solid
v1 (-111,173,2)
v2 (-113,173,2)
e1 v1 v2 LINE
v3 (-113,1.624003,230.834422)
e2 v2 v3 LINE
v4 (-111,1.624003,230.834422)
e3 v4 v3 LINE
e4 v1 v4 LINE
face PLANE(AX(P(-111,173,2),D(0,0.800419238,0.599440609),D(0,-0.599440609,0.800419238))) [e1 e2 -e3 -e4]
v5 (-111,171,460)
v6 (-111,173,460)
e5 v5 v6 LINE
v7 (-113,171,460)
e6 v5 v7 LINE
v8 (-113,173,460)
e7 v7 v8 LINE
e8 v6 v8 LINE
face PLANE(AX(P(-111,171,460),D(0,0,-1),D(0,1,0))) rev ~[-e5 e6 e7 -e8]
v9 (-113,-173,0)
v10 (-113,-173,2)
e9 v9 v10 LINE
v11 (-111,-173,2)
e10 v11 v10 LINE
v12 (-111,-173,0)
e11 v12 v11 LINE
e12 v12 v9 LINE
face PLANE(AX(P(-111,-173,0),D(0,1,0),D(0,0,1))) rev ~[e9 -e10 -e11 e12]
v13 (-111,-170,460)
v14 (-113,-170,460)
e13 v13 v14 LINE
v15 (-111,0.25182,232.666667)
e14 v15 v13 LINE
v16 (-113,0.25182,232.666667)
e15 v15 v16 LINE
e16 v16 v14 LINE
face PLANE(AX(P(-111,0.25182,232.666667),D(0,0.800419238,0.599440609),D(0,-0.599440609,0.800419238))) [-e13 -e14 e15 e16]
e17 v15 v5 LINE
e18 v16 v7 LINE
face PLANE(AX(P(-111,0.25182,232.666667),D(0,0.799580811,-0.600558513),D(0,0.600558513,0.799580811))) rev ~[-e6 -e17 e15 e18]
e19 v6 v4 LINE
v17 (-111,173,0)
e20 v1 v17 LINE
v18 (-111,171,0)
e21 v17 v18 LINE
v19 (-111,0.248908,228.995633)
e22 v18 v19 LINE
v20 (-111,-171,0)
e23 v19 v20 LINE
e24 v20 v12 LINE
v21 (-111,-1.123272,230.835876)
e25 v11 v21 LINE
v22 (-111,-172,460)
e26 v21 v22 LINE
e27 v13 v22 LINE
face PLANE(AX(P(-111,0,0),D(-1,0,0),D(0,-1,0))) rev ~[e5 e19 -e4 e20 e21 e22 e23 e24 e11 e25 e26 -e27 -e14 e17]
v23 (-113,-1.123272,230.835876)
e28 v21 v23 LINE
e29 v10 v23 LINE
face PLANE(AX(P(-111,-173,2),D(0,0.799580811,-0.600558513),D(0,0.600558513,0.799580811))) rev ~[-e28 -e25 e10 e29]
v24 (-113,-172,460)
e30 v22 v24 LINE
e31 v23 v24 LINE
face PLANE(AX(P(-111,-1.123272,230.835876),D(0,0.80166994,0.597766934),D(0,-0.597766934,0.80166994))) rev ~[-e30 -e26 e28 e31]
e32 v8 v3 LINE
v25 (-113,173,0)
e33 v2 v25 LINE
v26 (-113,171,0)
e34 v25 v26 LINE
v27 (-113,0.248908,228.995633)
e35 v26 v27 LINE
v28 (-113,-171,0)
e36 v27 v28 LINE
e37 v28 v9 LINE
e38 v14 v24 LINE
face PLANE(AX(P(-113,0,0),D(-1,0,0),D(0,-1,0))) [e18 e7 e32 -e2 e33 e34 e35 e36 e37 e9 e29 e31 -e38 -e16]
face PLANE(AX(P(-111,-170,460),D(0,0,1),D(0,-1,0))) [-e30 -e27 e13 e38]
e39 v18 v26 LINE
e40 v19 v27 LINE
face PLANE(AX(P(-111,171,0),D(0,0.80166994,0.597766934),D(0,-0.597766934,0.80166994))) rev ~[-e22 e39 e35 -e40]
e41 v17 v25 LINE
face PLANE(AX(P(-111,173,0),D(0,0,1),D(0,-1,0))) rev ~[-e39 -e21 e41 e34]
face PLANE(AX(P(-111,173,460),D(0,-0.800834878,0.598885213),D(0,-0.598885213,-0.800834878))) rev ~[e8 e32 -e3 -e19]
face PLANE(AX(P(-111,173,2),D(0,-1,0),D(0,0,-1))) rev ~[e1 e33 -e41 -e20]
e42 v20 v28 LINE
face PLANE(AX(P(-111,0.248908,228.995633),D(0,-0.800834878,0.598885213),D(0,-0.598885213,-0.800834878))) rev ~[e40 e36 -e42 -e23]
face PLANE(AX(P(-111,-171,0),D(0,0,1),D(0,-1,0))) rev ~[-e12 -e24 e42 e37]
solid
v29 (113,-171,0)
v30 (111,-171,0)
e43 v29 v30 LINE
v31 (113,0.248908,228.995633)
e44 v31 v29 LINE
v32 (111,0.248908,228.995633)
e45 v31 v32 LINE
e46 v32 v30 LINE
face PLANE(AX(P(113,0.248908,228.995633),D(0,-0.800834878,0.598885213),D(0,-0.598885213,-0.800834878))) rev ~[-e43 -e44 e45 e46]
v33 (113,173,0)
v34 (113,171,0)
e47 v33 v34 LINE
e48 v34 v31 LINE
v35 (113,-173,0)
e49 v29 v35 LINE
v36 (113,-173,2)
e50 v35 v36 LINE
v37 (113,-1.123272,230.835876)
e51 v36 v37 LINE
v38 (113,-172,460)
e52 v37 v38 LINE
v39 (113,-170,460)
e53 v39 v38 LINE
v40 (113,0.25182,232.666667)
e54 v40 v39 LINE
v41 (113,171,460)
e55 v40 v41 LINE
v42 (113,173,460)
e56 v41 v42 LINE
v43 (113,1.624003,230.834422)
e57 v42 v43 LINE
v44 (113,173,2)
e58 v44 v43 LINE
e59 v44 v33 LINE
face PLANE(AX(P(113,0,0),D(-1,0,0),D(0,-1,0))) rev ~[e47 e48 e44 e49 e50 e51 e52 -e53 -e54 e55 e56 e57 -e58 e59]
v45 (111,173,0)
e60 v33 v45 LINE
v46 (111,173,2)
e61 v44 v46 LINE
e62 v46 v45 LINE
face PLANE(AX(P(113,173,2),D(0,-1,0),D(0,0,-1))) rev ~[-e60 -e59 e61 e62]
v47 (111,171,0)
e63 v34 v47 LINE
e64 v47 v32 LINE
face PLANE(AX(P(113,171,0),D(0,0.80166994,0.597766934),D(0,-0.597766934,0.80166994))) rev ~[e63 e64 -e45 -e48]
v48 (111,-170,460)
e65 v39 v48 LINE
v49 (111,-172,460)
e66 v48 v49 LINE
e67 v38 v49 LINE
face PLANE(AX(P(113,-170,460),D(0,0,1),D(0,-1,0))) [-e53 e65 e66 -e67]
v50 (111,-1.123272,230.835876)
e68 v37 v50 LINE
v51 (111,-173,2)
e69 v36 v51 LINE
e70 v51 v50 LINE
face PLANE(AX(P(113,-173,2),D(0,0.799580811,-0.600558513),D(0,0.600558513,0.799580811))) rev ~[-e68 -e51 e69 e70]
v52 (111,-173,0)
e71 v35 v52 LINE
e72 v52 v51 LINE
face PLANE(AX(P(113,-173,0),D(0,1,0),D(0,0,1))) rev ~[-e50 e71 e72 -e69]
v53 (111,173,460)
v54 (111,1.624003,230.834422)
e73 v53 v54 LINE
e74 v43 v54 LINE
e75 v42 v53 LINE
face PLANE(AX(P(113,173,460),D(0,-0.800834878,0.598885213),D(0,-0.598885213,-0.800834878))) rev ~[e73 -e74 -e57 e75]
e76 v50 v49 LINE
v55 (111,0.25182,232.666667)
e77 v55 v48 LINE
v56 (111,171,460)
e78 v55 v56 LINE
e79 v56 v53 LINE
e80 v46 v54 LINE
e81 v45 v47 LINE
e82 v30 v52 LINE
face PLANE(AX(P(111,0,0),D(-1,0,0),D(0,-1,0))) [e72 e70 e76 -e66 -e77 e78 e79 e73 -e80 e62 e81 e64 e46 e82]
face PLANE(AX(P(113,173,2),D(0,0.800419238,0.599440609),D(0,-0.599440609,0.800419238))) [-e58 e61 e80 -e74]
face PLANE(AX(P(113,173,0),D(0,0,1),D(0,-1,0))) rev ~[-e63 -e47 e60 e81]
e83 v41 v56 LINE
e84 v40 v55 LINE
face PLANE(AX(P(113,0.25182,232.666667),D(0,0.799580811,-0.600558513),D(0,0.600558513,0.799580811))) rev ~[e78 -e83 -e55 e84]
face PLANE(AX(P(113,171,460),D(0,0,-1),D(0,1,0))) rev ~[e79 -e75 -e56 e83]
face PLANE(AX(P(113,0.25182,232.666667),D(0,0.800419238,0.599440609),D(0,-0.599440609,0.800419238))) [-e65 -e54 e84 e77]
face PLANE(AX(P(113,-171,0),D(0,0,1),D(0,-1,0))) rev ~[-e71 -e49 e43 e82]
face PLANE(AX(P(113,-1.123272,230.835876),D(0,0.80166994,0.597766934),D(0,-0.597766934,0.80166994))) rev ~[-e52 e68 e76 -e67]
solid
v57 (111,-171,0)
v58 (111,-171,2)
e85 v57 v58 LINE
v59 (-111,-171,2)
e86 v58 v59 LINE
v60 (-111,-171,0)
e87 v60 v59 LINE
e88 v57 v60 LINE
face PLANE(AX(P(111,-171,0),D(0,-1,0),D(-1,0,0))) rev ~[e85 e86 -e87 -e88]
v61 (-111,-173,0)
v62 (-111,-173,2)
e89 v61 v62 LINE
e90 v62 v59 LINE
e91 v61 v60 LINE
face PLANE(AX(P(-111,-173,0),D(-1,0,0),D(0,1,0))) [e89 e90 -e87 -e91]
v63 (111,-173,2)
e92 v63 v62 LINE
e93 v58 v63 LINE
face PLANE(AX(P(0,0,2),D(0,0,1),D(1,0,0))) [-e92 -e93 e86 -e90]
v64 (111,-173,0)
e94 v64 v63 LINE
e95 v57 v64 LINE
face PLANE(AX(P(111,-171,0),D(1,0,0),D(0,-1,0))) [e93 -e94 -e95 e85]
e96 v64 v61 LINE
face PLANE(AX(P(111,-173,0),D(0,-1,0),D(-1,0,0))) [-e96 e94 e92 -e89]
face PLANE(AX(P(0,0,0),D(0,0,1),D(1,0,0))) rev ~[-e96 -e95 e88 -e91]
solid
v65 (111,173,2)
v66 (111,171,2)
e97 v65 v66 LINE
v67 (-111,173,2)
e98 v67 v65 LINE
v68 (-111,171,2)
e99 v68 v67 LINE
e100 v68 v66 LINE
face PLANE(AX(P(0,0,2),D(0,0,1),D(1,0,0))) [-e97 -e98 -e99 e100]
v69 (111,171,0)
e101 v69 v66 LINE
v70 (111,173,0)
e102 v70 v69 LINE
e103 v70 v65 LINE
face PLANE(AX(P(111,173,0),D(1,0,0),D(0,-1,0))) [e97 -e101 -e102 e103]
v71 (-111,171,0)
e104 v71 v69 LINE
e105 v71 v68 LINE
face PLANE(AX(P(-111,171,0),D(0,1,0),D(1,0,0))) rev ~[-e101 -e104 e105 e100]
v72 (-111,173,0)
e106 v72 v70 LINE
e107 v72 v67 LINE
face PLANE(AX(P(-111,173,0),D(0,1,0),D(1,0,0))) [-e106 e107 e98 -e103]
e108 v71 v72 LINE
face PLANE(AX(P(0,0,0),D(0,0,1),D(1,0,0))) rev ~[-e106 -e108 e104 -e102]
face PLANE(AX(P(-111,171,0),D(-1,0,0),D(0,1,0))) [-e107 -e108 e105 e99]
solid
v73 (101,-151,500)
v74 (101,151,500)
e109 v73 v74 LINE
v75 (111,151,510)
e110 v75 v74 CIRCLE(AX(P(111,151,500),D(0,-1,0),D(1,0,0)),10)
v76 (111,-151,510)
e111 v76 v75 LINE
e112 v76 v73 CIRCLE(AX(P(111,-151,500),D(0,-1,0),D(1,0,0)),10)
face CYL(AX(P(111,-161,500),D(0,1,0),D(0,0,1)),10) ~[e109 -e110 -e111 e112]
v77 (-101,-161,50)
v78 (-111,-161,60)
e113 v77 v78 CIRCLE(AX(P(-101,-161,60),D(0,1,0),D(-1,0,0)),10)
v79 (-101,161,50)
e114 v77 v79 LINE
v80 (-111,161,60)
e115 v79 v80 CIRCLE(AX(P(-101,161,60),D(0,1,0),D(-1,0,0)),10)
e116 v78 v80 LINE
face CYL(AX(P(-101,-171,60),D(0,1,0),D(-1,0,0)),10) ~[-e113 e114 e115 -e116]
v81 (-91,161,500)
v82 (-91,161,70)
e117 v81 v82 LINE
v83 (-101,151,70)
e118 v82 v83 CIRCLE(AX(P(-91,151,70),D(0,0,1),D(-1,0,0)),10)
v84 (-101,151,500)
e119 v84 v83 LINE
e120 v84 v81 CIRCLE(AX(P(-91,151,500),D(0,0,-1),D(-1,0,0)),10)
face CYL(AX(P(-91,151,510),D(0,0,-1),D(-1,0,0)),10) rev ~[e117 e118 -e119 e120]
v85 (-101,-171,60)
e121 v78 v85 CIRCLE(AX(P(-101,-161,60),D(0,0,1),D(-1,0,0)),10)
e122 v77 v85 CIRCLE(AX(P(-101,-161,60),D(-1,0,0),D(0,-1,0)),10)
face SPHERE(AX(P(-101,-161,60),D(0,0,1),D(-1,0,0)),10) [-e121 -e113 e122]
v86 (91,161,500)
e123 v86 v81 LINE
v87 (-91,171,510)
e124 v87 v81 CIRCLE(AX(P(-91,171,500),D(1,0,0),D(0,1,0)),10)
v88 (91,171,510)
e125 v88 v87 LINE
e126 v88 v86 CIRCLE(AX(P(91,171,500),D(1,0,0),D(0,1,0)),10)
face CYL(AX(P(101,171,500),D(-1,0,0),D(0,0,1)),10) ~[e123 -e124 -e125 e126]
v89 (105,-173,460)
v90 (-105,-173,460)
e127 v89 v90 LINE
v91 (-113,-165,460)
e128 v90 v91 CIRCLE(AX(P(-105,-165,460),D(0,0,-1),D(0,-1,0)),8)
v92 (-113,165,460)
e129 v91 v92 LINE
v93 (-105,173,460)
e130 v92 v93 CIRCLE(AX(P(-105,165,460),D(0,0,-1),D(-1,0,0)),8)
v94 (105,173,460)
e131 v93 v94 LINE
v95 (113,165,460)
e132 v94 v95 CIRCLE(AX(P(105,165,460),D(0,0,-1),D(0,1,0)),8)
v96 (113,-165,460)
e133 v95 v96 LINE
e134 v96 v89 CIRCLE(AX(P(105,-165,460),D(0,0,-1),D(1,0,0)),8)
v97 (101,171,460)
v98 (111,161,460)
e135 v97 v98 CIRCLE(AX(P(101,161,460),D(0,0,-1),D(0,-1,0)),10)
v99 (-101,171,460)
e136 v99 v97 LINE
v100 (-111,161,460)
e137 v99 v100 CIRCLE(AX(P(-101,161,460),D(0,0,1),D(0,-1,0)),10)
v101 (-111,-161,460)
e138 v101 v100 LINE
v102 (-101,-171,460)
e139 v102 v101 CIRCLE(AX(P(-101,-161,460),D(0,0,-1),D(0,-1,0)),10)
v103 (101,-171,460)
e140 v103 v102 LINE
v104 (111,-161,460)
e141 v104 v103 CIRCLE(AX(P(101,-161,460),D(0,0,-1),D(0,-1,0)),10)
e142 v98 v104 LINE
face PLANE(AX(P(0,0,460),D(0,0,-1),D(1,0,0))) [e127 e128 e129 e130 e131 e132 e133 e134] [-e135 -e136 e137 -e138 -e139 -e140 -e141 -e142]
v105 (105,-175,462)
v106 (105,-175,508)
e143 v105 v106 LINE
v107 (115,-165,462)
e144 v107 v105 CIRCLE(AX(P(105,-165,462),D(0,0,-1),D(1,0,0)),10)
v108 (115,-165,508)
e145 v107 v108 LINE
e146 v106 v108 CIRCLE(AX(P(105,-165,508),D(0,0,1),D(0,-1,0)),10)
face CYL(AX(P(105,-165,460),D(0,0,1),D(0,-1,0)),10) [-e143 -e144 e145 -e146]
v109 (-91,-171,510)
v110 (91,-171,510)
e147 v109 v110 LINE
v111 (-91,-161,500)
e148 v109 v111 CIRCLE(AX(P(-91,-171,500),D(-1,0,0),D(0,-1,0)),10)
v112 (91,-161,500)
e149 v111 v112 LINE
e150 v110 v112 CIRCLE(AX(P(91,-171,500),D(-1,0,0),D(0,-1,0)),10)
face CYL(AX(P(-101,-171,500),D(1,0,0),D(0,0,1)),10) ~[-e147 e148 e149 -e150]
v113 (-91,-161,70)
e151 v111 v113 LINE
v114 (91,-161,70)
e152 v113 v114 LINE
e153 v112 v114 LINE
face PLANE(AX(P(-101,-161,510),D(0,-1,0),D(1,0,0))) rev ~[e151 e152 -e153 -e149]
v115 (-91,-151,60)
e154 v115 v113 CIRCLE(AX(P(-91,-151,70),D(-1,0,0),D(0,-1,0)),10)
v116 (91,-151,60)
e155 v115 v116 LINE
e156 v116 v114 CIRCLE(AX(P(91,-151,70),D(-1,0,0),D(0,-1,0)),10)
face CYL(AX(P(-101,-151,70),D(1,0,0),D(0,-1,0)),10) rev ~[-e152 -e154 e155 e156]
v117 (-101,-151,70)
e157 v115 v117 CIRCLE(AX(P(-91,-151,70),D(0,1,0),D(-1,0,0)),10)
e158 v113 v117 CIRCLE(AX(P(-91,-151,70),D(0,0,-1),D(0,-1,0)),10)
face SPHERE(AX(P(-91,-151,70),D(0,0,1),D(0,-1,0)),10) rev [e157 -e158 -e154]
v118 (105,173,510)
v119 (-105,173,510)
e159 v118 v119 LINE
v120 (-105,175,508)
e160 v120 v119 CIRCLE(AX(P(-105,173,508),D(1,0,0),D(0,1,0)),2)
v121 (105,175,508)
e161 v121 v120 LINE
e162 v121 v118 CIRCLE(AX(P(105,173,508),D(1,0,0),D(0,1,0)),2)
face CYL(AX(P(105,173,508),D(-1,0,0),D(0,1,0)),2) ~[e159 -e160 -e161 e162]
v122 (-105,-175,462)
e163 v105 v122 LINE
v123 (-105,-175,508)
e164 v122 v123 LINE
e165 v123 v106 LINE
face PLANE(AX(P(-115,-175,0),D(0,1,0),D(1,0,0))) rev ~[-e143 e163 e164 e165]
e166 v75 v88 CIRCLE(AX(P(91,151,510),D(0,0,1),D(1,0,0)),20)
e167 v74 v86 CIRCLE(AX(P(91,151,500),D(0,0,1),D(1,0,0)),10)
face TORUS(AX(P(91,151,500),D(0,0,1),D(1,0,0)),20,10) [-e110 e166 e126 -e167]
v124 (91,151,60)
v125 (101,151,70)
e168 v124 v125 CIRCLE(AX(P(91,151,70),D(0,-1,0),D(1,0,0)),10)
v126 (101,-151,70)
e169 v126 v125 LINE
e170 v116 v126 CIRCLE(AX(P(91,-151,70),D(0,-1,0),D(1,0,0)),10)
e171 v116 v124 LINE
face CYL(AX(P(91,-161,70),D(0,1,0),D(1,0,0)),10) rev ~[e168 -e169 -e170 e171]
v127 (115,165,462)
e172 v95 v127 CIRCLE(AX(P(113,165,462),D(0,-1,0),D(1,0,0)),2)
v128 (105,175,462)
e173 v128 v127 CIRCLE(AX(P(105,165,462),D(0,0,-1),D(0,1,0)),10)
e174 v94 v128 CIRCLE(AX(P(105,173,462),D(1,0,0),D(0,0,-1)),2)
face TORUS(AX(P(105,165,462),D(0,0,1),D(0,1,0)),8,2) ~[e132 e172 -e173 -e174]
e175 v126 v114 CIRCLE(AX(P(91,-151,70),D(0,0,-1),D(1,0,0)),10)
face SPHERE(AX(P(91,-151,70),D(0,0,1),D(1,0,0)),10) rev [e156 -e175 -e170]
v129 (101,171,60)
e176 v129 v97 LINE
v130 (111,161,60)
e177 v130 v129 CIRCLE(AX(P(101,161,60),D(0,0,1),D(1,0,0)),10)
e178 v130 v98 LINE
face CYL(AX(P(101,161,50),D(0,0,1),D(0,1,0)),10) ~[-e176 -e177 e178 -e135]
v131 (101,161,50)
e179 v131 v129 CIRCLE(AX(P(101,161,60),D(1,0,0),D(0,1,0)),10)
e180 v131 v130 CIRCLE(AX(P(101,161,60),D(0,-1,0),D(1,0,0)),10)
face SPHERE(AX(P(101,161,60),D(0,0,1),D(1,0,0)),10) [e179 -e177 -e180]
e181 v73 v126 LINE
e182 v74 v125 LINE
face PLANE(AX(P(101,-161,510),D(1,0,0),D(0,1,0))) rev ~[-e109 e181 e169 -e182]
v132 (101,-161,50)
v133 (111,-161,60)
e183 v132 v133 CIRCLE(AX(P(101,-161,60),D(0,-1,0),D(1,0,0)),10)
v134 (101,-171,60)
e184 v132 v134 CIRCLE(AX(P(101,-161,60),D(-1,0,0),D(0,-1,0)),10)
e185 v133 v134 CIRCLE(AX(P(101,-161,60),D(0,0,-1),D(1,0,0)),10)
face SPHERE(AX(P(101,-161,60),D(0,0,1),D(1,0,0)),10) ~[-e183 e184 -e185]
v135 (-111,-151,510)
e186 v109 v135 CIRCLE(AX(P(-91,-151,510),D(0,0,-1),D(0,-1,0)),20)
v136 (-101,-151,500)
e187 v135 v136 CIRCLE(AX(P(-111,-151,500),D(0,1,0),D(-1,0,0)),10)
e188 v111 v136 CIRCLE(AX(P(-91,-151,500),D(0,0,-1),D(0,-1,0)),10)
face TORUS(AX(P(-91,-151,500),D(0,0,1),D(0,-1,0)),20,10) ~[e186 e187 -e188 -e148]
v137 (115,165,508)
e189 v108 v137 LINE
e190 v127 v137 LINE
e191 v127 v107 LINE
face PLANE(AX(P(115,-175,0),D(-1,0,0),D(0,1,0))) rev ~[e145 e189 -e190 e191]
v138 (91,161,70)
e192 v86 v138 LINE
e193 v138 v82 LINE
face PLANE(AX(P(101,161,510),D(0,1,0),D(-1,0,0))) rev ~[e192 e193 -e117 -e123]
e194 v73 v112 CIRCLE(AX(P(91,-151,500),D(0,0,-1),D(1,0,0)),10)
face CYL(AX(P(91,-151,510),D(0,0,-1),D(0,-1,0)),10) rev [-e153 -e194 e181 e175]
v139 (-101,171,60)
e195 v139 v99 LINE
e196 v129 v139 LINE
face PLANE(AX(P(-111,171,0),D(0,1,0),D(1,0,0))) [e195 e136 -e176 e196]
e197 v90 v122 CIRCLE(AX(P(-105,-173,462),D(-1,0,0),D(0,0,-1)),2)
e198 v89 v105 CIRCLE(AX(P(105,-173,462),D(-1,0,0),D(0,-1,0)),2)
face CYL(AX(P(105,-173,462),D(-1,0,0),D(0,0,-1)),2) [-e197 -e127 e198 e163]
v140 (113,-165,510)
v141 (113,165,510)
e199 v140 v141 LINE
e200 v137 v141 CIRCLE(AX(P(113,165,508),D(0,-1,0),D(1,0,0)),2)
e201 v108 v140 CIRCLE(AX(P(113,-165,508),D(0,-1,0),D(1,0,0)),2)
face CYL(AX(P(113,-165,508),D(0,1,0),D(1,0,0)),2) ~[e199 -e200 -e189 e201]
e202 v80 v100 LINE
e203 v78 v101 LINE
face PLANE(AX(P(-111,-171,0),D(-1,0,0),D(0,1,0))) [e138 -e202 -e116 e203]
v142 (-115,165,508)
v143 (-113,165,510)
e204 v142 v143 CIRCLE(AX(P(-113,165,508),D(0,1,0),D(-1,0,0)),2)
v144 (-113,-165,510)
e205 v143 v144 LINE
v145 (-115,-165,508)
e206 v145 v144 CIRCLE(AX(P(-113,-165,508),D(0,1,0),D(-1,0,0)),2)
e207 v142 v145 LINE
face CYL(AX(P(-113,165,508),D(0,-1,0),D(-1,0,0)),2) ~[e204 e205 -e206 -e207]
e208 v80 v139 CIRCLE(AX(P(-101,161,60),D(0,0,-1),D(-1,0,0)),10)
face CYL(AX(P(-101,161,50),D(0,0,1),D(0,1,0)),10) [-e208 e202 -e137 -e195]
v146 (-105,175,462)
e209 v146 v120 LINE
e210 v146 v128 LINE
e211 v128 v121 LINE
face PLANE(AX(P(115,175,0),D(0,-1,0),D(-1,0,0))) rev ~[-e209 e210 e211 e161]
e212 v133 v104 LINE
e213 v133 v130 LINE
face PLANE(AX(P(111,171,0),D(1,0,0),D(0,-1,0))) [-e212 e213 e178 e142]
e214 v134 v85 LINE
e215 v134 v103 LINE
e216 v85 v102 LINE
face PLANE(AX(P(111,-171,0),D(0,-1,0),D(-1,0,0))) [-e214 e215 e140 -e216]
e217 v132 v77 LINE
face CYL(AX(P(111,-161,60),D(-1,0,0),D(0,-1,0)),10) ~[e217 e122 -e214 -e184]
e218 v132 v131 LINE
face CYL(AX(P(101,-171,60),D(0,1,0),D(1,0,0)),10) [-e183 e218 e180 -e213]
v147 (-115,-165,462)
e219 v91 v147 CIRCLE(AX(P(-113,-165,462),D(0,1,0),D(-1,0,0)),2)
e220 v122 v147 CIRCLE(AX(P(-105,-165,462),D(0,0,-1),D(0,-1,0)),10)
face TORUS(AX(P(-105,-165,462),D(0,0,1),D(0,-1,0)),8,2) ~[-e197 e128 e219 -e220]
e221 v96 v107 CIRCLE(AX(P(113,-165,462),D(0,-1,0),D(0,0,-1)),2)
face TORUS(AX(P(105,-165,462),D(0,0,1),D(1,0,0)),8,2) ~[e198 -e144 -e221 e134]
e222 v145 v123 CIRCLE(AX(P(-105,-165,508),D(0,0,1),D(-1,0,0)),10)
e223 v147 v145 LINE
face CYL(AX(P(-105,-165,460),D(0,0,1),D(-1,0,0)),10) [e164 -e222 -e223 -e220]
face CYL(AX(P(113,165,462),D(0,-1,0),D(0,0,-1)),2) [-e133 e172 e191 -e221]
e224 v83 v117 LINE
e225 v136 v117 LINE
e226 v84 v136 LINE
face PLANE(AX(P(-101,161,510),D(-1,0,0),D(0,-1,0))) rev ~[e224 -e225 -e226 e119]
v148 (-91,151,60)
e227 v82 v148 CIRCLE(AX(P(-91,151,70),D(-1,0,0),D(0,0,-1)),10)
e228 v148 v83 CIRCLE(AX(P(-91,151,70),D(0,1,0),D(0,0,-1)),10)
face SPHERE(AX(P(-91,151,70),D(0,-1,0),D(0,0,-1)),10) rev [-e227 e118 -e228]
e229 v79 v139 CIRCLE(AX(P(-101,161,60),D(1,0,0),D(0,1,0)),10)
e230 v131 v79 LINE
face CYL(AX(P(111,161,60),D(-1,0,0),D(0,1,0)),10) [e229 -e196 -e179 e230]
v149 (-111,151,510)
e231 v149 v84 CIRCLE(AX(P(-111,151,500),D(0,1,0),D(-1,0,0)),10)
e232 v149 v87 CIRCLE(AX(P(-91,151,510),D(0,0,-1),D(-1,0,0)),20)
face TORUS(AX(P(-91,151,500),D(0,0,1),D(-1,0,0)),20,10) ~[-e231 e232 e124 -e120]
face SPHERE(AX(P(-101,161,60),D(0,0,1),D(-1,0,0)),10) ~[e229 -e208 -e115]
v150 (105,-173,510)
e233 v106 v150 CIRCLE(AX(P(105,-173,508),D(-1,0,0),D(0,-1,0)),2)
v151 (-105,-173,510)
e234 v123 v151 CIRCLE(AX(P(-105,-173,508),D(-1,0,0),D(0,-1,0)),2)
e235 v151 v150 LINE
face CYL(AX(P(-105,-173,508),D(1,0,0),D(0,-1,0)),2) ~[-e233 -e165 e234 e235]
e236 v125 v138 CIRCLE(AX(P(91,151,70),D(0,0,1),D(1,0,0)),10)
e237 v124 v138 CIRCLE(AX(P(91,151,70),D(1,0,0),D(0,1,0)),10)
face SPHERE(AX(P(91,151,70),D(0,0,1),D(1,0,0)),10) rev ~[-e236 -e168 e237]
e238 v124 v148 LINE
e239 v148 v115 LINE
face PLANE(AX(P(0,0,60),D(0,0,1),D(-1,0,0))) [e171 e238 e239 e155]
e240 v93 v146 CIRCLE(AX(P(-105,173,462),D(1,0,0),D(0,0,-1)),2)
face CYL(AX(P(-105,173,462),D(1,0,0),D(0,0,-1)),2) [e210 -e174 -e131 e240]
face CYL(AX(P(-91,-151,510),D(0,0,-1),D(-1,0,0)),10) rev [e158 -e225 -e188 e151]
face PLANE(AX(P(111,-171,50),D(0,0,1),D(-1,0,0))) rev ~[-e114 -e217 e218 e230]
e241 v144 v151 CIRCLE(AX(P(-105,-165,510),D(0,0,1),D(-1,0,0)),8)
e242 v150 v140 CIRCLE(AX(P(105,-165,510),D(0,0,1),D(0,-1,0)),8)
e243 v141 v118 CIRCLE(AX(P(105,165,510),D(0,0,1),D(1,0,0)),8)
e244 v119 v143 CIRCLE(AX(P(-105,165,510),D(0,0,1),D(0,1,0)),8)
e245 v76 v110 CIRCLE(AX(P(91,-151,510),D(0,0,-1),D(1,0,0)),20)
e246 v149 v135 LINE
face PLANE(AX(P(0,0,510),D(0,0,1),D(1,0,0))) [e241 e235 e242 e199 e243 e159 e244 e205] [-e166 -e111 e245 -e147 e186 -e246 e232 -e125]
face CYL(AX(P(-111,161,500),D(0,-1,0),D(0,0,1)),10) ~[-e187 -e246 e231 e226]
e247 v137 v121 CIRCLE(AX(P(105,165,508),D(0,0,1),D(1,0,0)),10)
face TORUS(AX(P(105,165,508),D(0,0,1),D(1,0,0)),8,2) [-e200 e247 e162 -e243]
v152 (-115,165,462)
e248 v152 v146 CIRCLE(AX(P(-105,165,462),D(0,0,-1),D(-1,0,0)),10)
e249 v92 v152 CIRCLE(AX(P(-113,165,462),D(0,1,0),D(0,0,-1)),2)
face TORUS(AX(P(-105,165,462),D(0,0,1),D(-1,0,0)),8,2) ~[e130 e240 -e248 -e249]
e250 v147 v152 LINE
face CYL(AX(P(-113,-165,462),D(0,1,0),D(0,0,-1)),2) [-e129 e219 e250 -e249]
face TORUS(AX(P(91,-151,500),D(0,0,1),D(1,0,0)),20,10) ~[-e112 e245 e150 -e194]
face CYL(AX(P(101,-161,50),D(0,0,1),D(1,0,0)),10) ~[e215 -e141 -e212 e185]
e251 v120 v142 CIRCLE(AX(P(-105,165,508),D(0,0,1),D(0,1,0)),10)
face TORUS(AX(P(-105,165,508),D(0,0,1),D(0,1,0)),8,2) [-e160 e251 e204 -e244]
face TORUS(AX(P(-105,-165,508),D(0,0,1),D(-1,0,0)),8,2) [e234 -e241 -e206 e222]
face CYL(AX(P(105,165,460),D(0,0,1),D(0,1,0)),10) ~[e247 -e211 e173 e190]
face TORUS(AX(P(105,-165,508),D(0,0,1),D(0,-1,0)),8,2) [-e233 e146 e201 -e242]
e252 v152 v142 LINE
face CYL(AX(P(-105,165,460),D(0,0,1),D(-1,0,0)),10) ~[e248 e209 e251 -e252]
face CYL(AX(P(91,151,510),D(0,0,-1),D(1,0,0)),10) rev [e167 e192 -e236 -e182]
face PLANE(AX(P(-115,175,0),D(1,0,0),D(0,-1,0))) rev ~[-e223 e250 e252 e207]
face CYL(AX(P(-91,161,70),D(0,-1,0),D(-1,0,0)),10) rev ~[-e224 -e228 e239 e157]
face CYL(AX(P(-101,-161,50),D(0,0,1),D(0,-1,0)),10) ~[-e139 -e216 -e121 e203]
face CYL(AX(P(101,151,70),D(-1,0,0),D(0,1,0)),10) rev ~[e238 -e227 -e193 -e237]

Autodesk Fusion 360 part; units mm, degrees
sketch "Sketch1" plane through (0, 0, 0) normal (0, 0, 1) x (1, 0, 0)
  line L0 (-115, -175) -> (115, -175)
  line L1 (115, -175) -> (115, 175)
  line L2 (115, 175) -> (-115, 175)
  line L3 (-115, 175) -> (-115, -175)
  line L4 (-115, -175) -> (115, 175) construction
  line L5 (115, -175) -> (-115, 175) construction
  dimension "d1" = 350
  dimension "d2" = 230
extrude "Extrude1" add sketch "Sketch1" along normal blind 510 makes body 1
sketch "Sketch2" plane through (0, 0, 0) normal (0, 0, -1) x (1, 0, 0)
  line L0 (-115, 175) -> (-115, -175)
  line L1 (-115, -175) -> (115, -175)
  line L2 (115, -175) -> (115, 175)
  line L3 (115, 175) -> (-115, 175)
  line L4 (-111, -171) -> (111, -171)
  line L5 (111, -171) -> (111, 171)
  line L6 (111, 171) -> (-111, 171)
  line L7 (-111, 171) -> (-111, -171)
  dimension "d5" = -4
extrude "Extrude2" cut sketch "Sketch2" against normal blind 460 bodies 1
sketch "Sketch3" plane through (0, -171, 0) normal (0, -1, 0) x (1, 0, 0)
  line L0 (-111, 0) -> (111, 0)
  line L1 (111, 0) -> (111, 460)
  line L2 (111, 460) -> (-111, 460)
  line L3 (-111, 460) -> (-111, 0)
  line L4 (-111, 0) -> (111, 0)
  line L5 (111, 0) -> (111, 50)
  line L6 (111, 50) -> (-111, 50)
  line L7 (-111, 50) -> (-111, 0)
  dimension "d8" = 50
extrude "Extrude3" cut sketch "Sketch3" against normal up to surface (342 mm away) contours L0 L1 L3 L4 L5 L6 L7 bodies 1
sketch "Sketch4" plane through (0, 0, 510) normal (0, 0, 1) x (-1, 0, 0)
  line L0 (115, -175) -> (115, 175)
  line L1 (115, 175) -> (-115, 175)
  line L2 (-115, 175) -> (-115, -175)
  line L3 (-115, -175) -> (115, -175)
  line L4 (101, 161) -> (-101, 161)
  line L5 (-101, 161) -> (-101, -161)
  line L6 (-101, -161) -> (101, -161)
  line L7 (101, -161) -> (101, 161)
  dimension "d11" = -14
extrude "Extrude4" cut sketch "Sketch4" against normal blind 450 contours L4 L5 L6 L7 bodies 1
sketch "Sketch7" plane through (0, 0, 0) normal (0, 0, 1) x (1, 0, 0)
  line L0 (-111, 171) -> (111, 171)
  line L1 (111, 171) -> (111, -171)
  line L2 (111, -171) -> (-111, -171)
  line L3 (-111, -171) -> (-111, 171)
  line L4 (111, 171) -> (-111, 171)
  line L5 (-111, 171) -> (-111, 173)
  line L6 (-111, 173) -> (111, 173)
  line L7 (111, 173) -> (111, 171)
  line L8 (-111, -171) -> (111, -171)
  line L9 (111, -171) -> (111, -173)
  line L10 (111, -173) -> (-111, -173)
  line L11 (-111, -173) -> (-111, -171)
  dimension "d18" = 2
  dimension "d19" = 2
extrude "Extrude7" add sketch "Sketch7" along normal blind 2 separate body contours L0 L4 L5 L6 L7 | L2 L8 L9 L10 L11 makes body 2 at (-37, 171, 0.6667) makes body 3 at (-37, -171.6667, 0)
sketch "Sketch8" plane through (-111, 0, 0) normal (-1, 0, 0) x (0, -1, 0)
  line L0 (-173, 0) -> (-171, 0)
  line L1 (-171, 0) -> (-171, 2)
  line L2 (-171, 2) -> (-173, 2)
  line L3 (-173, 2) -> (-173, 0)
  line L4 (-173, 2) -> (170, 460)
  line L5 (-171, 0) -> (172, 460)
  line L6 (170, 460) -> (172, 460)
  line L7 (173, 2) -> (-171, 460)
  line L8 (-171, 460) -> (-173, 460)
  line L9 (-173, 460) -> (171, 0)
  line L10 (171, 0) -> (173, 0)
  line L11 (173, 0) -> (173, 2)
  line L12 (-173, 2) -> (-173, 0)
  dimension "d22" = 2
extrude "Extrude8" add sketch "Sketch8" along normal blind 2 separate body makes body 4
pattern_linear "R-Pattern1" count 2 spacing 224 along (1, 0, 0) of bodies 4 makes body 5
fillet "Fillet2" radius 10 5 faces at (101, -53.6667, 360) (-33.6667, -161, 210) (33.6667, -53.6667, 60) (-101, 53.6667, 360) (33.6667, 161, 210) on bodies 1
fillet "Fillet4" radius 10 4 edges at (-115, -175, 485) (115, -175, 485) (115, 175, 485) (-115, 175, 485) on bodies 1
fillet "Fillet5" radius 10 4 edges at (111, -171, 255) (111, 171, 255) (-111, -171, 255) (-111, 171, 255) 1 faces at (37, -57, 50) on bodies 1
fillet "Fillet6" radius 2 8 faces at (35, 175, 476.6667) (-114.8193, 166.8925, 476.6667) (-115, 55, 476.6667) (-114.8193, -166.8925, 476.6667) (-35, -175, 476.6667) (114.7181, -167.3576, 476.6667) (115, -55, 476.6667) (114.7181, 167.3576, 476.6667) on bodies 1
